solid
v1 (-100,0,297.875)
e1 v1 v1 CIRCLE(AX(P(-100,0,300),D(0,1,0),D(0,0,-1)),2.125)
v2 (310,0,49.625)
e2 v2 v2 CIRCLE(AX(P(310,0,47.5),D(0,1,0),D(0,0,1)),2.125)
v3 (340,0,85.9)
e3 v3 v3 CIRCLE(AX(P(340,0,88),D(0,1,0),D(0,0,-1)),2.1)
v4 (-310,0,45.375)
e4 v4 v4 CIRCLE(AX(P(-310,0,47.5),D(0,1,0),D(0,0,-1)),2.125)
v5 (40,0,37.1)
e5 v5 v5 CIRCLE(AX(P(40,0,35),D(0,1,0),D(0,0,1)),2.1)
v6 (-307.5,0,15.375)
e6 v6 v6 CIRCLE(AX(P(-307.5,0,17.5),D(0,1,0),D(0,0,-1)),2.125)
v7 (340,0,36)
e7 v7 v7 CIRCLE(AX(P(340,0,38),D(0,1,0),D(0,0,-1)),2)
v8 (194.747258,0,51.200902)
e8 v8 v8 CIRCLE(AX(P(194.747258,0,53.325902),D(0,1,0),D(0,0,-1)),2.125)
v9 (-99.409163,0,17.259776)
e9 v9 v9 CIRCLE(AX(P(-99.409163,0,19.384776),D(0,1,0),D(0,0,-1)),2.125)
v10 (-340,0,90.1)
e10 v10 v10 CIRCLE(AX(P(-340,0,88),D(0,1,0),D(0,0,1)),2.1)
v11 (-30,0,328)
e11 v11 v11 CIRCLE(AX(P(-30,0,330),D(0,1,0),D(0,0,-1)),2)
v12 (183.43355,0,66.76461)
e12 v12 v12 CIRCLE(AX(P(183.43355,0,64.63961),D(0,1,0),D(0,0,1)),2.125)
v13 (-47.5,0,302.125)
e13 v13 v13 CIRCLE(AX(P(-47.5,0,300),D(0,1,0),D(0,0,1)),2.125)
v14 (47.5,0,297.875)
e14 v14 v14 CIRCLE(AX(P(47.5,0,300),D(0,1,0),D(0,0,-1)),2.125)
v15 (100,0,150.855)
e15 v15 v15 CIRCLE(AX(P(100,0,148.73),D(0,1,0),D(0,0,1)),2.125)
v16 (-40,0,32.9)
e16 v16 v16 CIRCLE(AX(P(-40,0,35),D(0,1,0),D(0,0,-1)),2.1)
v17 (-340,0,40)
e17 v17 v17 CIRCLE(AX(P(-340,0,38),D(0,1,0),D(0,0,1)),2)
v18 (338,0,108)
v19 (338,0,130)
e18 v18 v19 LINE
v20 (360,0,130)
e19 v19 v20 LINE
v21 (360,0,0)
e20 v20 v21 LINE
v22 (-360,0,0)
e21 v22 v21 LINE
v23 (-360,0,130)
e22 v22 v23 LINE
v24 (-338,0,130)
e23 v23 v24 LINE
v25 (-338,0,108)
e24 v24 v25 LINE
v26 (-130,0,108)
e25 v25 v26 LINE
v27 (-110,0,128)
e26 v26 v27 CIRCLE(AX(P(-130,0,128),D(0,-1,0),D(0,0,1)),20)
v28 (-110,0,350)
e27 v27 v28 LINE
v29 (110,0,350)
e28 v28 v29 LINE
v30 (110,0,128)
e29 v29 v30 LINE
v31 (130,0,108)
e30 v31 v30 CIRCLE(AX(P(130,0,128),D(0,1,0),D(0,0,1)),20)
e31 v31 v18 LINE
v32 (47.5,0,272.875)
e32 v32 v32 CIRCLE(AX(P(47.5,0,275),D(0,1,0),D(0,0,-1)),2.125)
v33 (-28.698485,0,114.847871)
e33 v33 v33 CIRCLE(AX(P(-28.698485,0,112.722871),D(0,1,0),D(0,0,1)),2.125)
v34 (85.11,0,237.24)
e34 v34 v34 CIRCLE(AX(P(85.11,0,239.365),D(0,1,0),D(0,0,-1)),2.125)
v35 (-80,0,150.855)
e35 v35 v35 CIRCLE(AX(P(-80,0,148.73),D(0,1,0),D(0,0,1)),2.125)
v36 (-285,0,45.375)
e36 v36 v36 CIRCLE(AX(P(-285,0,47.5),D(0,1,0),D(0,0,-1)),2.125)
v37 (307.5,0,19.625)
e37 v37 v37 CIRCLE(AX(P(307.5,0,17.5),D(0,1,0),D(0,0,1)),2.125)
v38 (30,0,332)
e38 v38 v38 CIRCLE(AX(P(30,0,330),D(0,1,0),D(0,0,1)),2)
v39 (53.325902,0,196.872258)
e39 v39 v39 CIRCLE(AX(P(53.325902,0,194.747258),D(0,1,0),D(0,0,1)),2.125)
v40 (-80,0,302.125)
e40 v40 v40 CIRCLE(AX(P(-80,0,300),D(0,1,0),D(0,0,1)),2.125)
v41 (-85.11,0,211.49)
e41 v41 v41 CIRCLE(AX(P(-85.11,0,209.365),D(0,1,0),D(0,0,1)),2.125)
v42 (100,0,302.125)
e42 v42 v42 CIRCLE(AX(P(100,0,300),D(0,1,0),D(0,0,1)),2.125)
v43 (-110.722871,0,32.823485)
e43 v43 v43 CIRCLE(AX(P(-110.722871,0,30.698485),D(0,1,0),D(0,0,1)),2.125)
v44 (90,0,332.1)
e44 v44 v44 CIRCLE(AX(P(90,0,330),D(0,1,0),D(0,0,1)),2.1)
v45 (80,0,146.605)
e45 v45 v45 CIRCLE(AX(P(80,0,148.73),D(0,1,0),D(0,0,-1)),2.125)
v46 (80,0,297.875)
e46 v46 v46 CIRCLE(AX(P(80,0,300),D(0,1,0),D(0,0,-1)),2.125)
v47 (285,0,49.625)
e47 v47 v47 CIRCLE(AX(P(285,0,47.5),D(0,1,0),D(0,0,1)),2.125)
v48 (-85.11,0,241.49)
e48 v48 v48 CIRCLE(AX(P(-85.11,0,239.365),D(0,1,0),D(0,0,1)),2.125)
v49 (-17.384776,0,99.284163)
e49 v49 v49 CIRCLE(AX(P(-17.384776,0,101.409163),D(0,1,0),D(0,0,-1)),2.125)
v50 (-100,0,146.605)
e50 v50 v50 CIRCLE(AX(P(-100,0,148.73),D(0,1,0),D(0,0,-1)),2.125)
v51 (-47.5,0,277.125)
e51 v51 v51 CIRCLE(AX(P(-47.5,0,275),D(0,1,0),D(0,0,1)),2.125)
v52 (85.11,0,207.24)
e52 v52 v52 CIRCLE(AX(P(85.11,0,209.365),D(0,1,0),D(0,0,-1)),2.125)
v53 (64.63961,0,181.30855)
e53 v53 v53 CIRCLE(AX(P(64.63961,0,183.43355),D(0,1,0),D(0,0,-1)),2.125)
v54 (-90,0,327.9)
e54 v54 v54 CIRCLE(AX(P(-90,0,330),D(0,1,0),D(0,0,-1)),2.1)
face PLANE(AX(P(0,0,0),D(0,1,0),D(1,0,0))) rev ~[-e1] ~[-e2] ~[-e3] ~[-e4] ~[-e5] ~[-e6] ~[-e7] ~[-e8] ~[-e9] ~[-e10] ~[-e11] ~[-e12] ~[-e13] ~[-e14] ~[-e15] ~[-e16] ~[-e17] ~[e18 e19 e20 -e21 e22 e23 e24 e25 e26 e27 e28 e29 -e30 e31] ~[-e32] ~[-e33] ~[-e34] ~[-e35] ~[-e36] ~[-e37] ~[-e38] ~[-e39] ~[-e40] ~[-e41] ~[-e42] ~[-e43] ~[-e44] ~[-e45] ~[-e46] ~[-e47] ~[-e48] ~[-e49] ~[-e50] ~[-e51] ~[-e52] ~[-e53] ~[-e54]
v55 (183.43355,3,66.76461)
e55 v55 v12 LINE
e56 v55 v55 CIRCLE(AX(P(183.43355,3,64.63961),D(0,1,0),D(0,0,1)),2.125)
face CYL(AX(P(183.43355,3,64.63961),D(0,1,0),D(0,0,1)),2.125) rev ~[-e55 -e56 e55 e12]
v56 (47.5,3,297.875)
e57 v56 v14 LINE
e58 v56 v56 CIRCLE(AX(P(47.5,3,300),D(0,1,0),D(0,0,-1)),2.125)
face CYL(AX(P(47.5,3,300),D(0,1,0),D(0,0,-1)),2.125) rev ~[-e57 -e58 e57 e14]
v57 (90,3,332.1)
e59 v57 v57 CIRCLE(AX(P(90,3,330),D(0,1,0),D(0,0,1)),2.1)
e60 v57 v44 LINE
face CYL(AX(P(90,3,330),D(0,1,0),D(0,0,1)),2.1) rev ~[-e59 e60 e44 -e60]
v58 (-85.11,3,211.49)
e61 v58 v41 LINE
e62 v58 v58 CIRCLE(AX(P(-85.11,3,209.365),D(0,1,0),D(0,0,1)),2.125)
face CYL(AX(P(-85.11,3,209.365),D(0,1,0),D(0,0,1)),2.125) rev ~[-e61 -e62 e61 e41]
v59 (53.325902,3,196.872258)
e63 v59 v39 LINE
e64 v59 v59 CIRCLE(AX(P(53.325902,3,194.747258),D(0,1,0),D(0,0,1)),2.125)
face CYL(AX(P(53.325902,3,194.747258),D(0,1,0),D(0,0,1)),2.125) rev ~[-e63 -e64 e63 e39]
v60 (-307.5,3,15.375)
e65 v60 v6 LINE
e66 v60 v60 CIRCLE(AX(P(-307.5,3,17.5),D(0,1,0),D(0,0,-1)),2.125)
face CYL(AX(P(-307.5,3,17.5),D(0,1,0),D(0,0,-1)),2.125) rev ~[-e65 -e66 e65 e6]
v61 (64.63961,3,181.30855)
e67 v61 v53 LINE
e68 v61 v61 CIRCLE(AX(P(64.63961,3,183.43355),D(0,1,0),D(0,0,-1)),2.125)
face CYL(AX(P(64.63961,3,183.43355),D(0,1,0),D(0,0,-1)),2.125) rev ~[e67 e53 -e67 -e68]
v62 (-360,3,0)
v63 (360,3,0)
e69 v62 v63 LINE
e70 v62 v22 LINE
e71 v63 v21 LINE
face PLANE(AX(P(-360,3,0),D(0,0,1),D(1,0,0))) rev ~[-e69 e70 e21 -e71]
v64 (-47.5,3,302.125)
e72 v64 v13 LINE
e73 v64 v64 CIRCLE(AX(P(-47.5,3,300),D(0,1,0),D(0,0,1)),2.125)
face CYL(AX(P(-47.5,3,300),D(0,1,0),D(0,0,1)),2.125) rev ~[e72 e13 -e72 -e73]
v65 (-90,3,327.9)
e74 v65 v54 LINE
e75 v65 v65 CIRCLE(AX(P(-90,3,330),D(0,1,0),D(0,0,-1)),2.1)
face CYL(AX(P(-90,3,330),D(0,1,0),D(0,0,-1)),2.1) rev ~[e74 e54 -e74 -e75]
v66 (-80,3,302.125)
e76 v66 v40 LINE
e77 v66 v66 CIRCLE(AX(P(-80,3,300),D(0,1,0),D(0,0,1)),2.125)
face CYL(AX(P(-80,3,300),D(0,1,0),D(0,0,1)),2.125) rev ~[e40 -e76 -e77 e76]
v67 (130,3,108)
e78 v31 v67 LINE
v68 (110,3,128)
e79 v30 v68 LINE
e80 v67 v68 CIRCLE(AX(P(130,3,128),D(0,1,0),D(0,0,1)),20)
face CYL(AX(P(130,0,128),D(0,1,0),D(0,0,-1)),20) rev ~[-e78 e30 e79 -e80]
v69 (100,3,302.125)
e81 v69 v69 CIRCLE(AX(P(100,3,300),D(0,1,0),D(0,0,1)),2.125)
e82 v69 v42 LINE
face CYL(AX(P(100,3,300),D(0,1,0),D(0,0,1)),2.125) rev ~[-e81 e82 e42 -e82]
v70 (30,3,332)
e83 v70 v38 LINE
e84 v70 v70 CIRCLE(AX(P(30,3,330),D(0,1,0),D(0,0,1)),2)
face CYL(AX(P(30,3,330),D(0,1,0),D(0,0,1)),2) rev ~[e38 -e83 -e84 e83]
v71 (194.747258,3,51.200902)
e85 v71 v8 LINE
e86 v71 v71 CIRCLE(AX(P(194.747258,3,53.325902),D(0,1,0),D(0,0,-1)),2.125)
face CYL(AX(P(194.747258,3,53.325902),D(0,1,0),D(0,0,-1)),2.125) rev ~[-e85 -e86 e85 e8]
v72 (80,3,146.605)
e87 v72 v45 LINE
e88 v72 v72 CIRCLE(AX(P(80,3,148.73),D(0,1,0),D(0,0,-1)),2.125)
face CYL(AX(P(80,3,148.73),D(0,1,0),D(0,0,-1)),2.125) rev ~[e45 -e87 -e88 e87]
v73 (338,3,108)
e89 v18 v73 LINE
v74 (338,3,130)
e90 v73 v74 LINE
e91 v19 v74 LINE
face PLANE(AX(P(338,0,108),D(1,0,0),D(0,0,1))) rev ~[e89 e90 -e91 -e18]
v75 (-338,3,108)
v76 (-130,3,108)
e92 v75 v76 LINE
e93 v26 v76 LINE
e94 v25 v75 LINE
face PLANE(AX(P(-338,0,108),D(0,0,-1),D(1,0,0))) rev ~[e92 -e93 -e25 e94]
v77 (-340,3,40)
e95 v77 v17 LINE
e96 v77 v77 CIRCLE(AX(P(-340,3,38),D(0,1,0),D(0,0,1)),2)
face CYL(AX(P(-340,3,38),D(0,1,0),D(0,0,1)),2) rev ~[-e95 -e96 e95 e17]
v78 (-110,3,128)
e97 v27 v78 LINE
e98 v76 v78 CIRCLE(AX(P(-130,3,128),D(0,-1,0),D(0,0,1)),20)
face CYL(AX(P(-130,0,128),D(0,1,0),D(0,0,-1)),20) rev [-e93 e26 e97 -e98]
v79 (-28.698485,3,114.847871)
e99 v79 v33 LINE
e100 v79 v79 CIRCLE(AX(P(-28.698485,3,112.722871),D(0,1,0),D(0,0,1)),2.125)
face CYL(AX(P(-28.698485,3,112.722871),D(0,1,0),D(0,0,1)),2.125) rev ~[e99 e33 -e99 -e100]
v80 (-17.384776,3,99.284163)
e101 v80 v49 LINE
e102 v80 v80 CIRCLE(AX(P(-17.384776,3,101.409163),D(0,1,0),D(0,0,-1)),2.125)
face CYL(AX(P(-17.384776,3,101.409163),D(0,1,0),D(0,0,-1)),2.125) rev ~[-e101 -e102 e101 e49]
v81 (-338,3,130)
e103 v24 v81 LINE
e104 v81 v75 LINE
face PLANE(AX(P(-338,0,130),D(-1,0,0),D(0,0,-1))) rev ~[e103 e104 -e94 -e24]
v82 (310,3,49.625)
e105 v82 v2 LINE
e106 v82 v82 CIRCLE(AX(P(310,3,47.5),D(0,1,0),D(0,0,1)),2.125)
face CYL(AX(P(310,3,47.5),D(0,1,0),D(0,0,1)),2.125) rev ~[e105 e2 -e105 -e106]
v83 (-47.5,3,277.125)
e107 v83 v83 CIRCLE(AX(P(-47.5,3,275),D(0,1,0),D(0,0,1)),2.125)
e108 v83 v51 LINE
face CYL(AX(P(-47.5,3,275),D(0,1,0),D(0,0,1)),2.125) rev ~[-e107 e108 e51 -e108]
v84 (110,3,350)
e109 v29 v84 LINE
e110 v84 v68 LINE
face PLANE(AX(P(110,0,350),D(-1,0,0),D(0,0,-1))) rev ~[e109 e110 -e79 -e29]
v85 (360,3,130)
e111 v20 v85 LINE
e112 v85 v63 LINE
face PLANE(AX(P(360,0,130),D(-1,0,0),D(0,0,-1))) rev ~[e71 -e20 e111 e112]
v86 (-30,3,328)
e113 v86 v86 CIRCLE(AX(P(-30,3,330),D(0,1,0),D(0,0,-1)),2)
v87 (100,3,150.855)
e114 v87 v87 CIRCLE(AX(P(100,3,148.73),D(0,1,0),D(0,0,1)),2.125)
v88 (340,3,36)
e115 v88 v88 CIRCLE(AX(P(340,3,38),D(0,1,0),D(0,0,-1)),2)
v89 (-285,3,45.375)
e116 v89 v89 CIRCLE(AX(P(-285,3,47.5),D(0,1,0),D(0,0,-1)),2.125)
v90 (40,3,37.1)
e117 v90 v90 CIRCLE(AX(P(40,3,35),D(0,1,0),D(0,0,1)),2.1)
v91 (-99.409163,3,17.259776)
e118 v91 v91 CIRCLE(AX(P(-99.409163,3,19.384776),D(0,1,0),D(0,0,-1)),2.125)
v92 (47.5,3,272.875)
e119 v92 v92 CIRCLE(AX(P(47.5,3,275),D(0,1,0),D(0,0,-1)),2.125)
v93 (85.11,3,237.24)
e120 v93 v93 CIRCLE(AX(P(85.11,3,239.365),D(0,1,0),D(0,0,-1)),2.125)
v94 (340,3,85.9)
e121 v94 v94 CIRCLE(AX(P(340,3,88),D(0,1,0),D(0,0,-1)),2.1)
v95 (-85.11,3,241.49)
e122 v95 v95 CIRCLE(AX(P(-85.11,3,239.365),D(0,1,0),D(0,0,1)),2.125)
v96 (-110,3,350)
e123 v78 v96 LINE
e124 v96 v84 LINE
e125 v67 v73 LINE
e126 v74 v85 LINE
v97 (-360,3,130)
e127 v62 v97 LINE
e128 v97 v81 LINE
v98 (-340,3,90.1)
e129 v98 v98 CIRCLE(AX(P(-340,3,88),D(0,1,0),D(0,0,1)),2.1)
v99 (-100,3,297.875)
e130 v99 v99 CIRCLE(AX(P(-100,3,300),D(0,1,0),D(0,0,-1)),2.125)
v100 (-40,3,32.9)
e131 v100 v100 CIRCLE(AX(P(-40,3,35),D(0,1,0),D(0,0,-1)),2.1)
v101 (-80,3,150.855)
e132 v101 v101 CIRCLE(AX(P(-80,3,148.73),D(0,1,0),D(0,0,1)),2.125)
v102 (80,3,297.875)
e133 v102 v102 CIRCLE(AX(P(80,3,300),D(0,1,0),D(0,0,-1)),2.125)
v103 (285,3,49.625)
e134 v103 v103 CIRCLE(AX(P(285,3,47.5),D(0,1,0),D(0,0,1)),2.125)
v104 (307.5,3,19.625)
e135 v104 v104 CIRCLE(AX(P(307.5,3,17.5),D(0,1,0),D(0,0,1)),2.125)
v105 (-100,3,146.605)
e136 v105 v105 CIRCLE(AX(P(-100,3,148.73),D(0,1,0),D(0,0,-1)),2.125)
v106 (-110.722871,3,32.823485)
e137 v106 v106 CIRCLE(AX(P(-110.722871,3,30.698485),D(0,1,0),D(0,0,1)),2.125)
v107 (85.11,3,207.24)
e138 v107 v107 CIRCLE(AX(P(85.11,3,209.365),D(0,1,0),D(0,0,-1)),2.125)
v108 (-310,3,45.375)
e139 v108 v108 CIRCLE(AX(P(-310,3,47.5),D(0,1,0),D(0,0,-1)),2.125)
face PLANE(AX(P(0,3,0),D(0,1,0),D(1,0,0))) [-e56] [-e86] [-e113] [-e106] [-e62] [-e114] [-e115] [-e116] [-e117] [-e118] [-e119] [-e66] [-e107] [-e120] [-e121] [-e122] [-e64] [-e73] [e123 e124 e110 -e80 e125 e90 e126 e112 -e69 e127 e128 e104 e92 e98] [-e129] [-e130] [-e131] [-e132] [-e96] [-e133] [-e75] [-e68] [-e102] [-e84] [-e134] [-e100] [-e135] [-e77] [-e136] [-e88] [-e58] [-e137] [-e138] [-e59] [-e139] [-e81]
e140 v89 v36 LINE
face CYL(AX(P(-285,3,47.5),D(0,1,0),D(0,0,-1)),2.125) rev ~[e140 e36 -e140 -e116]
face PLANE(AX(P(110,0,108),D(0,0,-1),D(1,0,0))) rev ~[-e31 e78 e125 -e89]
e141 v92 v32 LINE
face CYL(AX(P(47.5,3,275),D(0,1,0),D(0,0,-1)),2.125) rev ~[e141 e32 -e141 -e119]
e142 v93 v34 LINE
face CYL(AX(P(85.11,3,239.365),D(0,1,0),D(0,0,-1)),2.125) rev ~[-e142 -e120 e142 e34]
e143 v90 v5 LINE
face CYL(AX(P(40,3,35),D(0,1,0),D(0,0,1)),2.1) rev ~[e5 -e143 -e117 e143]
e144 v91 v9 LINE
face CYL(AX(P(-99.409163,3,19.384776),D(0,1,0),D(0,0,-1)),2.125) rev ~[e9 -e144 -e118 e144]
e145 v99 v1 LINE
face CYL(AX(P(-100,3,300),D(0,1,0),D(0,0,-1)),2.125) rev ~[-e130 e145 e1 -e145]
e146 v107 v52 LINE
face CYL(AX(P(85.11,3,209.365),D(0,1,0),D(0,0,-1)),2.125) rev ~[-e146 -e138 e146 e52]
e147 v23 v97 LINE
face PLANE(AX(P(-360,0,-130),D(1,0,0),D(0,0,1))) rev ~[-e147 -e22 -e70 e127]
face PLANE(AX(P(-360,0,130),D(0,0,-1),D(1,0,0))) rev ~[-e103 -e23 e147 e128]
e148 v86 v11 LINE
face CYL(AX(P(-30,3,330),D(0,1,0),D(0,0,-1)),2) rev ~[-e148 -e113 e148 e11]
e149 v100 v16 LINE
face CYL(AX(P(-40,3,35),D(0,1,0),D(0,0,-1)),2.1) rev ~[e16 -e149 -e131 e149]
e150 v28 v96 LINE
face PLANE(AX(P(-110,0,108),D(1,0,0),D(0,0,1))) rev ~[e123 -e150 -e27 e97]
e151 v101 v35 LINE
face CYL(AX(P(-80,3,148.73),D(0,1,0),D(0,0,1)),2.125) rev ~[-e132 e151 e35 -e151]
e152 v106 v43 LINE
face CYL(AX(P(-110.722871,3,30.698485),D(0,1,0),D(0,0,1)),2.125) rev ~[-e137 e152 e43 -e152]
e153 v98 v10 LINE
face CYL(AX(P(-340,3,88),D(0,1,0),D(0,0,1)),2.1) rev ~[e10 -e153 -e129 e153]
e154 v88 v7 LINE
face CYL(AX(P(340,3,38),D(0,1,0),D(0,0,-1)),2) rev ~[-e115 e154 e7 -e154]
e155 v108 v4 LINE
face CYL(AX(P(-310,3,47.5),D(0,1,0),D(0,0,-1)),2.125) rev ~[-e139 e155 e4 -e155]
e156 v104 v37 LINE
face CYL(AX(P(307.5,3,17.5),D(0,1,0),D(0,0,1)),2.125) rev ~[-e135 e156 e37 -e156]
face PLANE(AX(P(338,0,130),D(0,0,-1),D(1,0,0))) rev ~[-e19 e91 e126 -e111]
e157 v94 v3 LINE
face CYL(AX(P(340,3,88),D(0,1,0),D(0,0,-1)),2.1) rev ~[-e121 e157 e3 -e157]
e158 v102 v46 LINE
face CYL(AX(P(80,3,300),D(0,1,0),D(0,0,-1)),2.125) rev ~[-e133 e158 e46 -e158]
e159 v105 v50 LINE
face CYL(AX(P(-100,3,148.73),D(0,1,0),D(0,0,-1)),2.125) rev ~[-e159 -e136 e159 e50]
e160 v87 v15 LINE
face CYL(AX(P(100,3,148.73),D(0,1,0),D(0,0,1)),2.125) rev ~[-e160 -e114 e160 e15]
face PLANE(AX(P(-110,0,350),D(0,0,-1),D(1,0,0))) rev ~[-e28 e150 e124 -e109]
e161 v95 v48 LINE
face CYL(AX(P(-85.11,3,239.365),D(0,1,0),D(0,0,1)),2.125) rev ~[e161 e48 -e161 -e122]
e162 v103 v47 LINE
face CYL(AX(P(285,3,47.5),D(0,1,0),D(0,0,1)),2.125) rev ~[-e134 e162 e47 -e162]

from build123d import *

# Parameters (mm, degrees)
BOSS_EXTRUDE1_DEPTH = 3
SKETCH2_R           = 2.125
CUT_EXTRUDE1_DEPTH  = 503.104570782
SKETCH3_R           = 2
CUT_EXTRUDE2_DEPTH  = 503.104570782
SKETCH5_R           = 2.125
CUT_EXTRUDE4_DEPTH  = 10
FILLET1_R           = 20
SKETCH6_R           = 2.125
CUT_EXTRUDE5_DEPTH  = 503.104570782
SKETCH8_R           = 2.1
CUT_EXTRUDE6_DEPTH  = 10
SKETCH7_R           = 2.1
CUT_EXTRUDE7_DEPTH  = 10
SKETCH9_W           = 720
SKETCH9_H           = 350
CUT_EXTRUDE8_DEPTH  = 10


with BuildPart() as part:
    # Sketch1 → Boss-Extrude1 (new body)
    with BuildSketch(Plane(origin=(0, 0, 0), x_dir=(1, 0, 0), z_dir=(0, 1, 0))):
        Polygon((-110, 350), (-110, 108), (-338, 108), (-338, 130), (-360, 130), (-360, -130), (-338, -130), (-338, -108), (-110, -108), (-110, -350), (110, -350), (110, -108), (338, -108), (338, -130), (360, -130), (360, 130), (338, 130), (338, 108), (110, 108), (110, 350), align=None)
    extrude(amount=BOSS_EXTRUDE1_DEPTH)

    # Sketch2 → Cut-Extrude1 (cut, through all)
    with BuildSketch(Plane(origin=(0, 3, 0), x_dir=(1, 0, 0), z_dir=(0, 1, 0))):
        with Locations(Location((310, 47.5, 0), (0, 0, 270))):
            Circle(SKETCH2_R)
        with Locations(Location((285, 47.5, 0), (0, 0, 270))):
            Circle(SKETCH2_R)
        with Locations(Location((307.5, 17.5, 0), (0, 0, 270))):
            Circle(SKETCH2_R)
        with Locations(Location((307.5, -17.5, 0), (0, 0, 270))):
            Circle(SKETCH2_R)
        with Locations(Location((310, -47.5, 0), (0, 0, 270))):
            Circle(SKETCH2_R)
        with Locations(Location((285, -47.5, 0), (0, 0, 270))):
            Circle(SKETCH2_R)
        with Locations(Location((-285, -47.5, 0), (0, 0, 90))):
            Circle(SKETCH2_R)
        with Locations(Location((-310, -47.5, 0), (0, 0, 90))):
            Circle(SKETCH2_R)
        with Locations(Location((-307.5, -17.5, 0), (0, 0, 90))):
            Circle(SKETCH2_R)
        with Locations(Location((-307.5, 17.5, 0), (0, 0, 90))):
            Circle(SKETCH2_R)
        with Locations(Location((-285, 47.5, 0), (0, 0, 90))):
            Circle(SKETCH2_R)
        with Locations(Location((-310, 47.5, 0), (0, 0, 90))):
            Circle(SKETCH2_R)
        with Locations(Location((47.5, 300, 0), (0, 0, 270))):
            Circle(SKETCH2_R)
        with Locations(Location((47.5, 275, 0), (0, 0, 270))):
            Circle(SKETCH2_R)
        with Locations(Location((-47.5, 275, 0), (0, 0, 90))):
            Circle(SKETCH2_R)
        with Locations(Location((-47.5, 300, 0), (0, 0, 90))):
            Circle(SKETCH2_R)
        with Locations(Location((-47.5, -300, 0), (0, 0, 270))):
            Circle(SKETCH2_R)
        with Locations(Location((-47.5, -275, 0), (0, 0, 270))):
            Circle(SKETCH2_R)
        with Locations(Location((47.5, -275, 0), (0, 0, 90))):
            Circle(SKETCH2_R)
        with Locations(Location((47.5, -300, 0), (0, 0, 90))):
            Circle(SKETCH2_R)
    extrude(amount=-CUT_EXTRUDE1_DEPTH, mode=Mode.SUBTRACT)

    # Sketch3 → Cut-Extrude2 (cut, through all)
    with BuildSketch(Plane(origin=(0, 3, 0), x_dir=(1, 0, 0), z_dir=(0, 1, 0))):
        with Locations(Location((340, 38, 0), (0, 0, 270))):
            Circle(SKETCH3_R)
        with Locations(Location((340, -38, 0), (0, 0, 90))):
            Circle(SKETCH3_R)
        with Locations(Location((-340, -38, 0), (0, 0, 270))):
            Circle(SKETCH3_R)
        with Locations(Location((-340, 38, 0), (0, 0, 90))):
            Circle(SKETCH3_R)
        with Locations(Location((-30, 330, 0), (0, 0, 270))):
            Circle(SKETCH3_R)
        with Locations(Location((30, 330, 0), (0, 0, 90))):
            Circle(SKETCH3_R)
        with Locations(Location((30, -330, 0), (0, 0, 270))):
            Circle(SKETCH3_R)
        with Locations(Location((-30, -330, 0), (0, 0, 90))):
            Circle(SKETCH3_R)
    extrude(amount=-CUT_EXTRUDE2_DEPTH, mode=Mode.SUBTRACT)

    # Sketch5 → Cut-Extrude4 (cut)
    with BuildSketch(Plane(origin=(0, 3, 0), x_dir=(1, 0, 0), z_dir=(0, 1, 0))):
        with Locations(Location((80, 300, 0), (0, 0, 270))):
            Circle(SKETCH5_R)
        with Locations(Location((80, 148.73, 0), (0, 0, 270))):
            Circle(SKETCH5_R)
        with Locations(Location((85.11, 239.365, 0), (0, 0, 270))):
            Circle(SKETCH5_R)
        with Locations(Location((85.11, 209.365, 0), (0, 0, 270))):
            Circle(SKETCH5_R)
        with Locations(Location((100, 148.73, 0), (0, 0, 90))):
            Circle(SKETCH5_R)
        with Locations(Location((100, 300, 0), (0, 0, 90))):
            Circle(SKETCH5_R)
        with Locations(Location((-100, 300, 0), (0, 0, 270))):
            Circle(SKETCH5_R)
        with Locations(Location((-100, 148.73, 0), (0, 0, 270))):
            Circle(SKETCH5_R)
        with Locations(Location((-85.11, 209.365, 0), (0, 0, 90))):
            Circle(SKETCH5_R)
        with Locations(Location((-85.11, 239.365, 0), (0, 0, 90))):
            Circle(SKETCH5_R)
        with Locations(Location((-80, 148.73, 0), (0, 0, 90))):
            Circle(SKETCH5_R)
        with Locations(Location((-80, 300, 0), (0, 0, 90))):
            Circle(SKETCH5_R)
        with Locations(Location((-80, -300, 0), (0, 0, 270))):
            Circle(SKETCH5_R)
        with Locations(Location((-80, -148.73, 0), (0, 0, 270))):
            Circle(SKETCH5_R)
        with Locations(Location((-85.11, -239.365, 0), (0, 0, 270))):
            Circle(SKETCH5_R)
        with Locations(Location((-85.11, -209.365, 0), (0, 0, 270))):
            Circle(SKETCH5_R)
        with Locations(Location((-100, -148.73, 0), (0, 0, 90))):
            Circle(SKETCH5_R)
        with Locations(Location((-100, -300, 0), (0, 0, 90))):
            Circle(SKETCH5_R)
        with Locations(Location((100, -300, 0), (0, 0, 270))):
            Circle(SKETCH5_R)
        with Locations(Location((100, -148.73, 0), (0, 0, 270))):
            Circle(SKETCH5_R)
        with Locations(Location((85.11, -209.365, 0), (0, 0, 90))):
            Circle(SKETCH5_R)
        with Locations(Location((85.11, -239.365, 0), (0, 0, 90))):
            Circle(SKETCH5_R)
        with Locations(Location((80, -148.73, 0), (0, 0, 90))):
            Circle(SKETCH5_R)
        with Locations(Location((80, -300, 0), (0, 0, 90))):
            Circle(SKETCH5_R)
    extrude(amount=-CUT_EXTRUDE4_DEPTH, mode=Mode.SUBTRACT)

    # Fillet1
    fillet1_edges = [part.edges().sort_by_distance(p)[0] for p in [
        (110, 1.5, -108),
        (110, 1.5, 108),
        (-110, 1.5, 108),
        (-110, 1.5, -108),
    ]]
    fillet(fillet1_edges, radius=FILLET1_R)

    # Sketch6 → Cut-Extrude5 (cut, through all)
    with BuildSketch(Plane(origin=(0, 3, 0), x_dir=(1, 0, 0), z_dir=(0, 1, 0))):
        with Locations(Location((53.325901808, -194.747258045, 0), (0, 0, 270))):
            Circle(SKETCH6_R)
        with Locations(Location((-192.747258045, 51.325901808, 0), (0, 0, 270))):
            Circle(SKETCH6_R)
        with Locations(Location((-28.69848481, -112.722871427, 0), (0, 0, 270))):
            Circle(SKETCH6_R)
        with Locations(Location((-110.722871427, -30.69848481, 0), (0, 0, 270))):
            Circle(SKETCH6_R)
        with Locations(Location((64.639610307, -183.433549546, 0), (0, 0, 90))):
            Circle(SKETCH6_R)
        with Locations(Location((-17.384776311, -101.409162928, 0), (0, 0, 90))):
            Circle(SKETCH6_R)
        with Locations(Location((-99.409162928, -19.384776311, 0), (0, 0, 90))):
            Circle(SKETCH6_R)
        with Locations(Location((-181.433549546, 62.639610307, 0), (0, 0, 90))):
            Circle(SKETCH6_R)
        with Locations(Location((-62.639610307, 181.433549546, 0), (0, 0, 270))):
            Circle(SKETCH6_R)
        with Locations(Location((19.384776311, 99.409162928, 0), (0, 0, 270))):
            Circle(SKETCH6_R)
        with Locations(Location((101.409162928, 17.384776311, 0), (0, 0, 270))):
            Circle(SKETCH6_R)
        with Locations(Location((183.433549546, -64.639610307, 0), (0, 0, 270))):
            Circle(SKETCH6_R)
        with Locations(Location((30.69848481, 110.722871427, 0), (0, 0, 90))):
            Circle(SKETCH6_R)
        with Locations(Location((112.722871427, 28.69848481, 0), (0, 0, 90))):
            Circle(SKETCH6_R)
        with Locations(Location((-51.325901808, 192.747258045, 0), (0, 0, 90))):
            Circle(SKETCH6_R)
        with Locations(Location((194.747258045, -53.325901808, 0), (0, 0, 90))):
            Circle(SKETCH6_R)
    extrude(amount=-CUT_EXTRUDE5_DEPTH, mode=Mode.SUBTRACT)

    # Sketch8 → Cut-Extrude6 (cut)
    with BuildSketch(Plane(origin=(0, 3, 0), x_dir=(1, 0, 0), z_dir=(0, 1, 0))):
        with Locations(Location((-40, 35, 0), (0, 0, 270))):
            Circle(SKETCH8_R)
        with Locations(Location((40, 35, 0), (0, 0, 90))):
            Circle(SKETCH8_R)
        with Locations(Location((40, -35, 0), (0, 0, 270))):
            Circle(SKETCH8_R)
        with Locations(Location((-40, -35, 0), (0, 0, 90))):
            Circle(SKETCH8_R)
    extrude(amount=-CUT_EXTRUDE6_DEPTH, mode=Mode.SUBTRACT)

    # Sketch7 → Cut-Extrude7 (cut)
    with BuildSketch(Plane(origin=(0, 3, 0), x_dir=(1, 0, 0), z_dir=(0, 1, 0))):
        with Locations(Location((340, 88, 0), (0, 0, 270))):
            Circle(SKETCH7_R)
        with Locations(Location((340, -88, 0), (0, 0, 90))):
            Circle(SKETCH7_R)
        with Locations(Location((-340, -88, 0), (0, 0, 270))):
            Circle(SKETCH7_R)
        with Locations(Location((-340, 88, 0), (0, 0, 90))):
            Circle(SKETCH7_R)
        with Locations(Location((-90, 330, 0), (0, 0, 270))):
            Circle(SKETCH7_R)
        with Locations(Location((90, 330, 0), (0, 0, 90))):
            Circle(SKETCH7_R)
        with Locations(Location((90, -330, 0), (0, 0, 270))):
            Circle(SKETCH7_R)
        with Locations(Location((-90, -330, 0), (0, 0, 90))):
            Circle(SKETCH7_R)
    extrude(amount=-CUT_EXTRUDE7_DEPTH, mode=Mode.SUBTRACT)

    # Sketch9 → Cut-Extrude8 (cut)
    with BuildSketch(Plane(origin=(0, 3, 0), x_dir=(1, 0, 0), z_dir=(0, 1, 0))):
        with Locations((0, 175)):
            Rectangle(SKETCH9_W, SKETCH9_H)
    extrude(amount=-CUT_EXTRUDE8_DEPTH, mode=Mode.SUBTRACT)


solid = part.part
